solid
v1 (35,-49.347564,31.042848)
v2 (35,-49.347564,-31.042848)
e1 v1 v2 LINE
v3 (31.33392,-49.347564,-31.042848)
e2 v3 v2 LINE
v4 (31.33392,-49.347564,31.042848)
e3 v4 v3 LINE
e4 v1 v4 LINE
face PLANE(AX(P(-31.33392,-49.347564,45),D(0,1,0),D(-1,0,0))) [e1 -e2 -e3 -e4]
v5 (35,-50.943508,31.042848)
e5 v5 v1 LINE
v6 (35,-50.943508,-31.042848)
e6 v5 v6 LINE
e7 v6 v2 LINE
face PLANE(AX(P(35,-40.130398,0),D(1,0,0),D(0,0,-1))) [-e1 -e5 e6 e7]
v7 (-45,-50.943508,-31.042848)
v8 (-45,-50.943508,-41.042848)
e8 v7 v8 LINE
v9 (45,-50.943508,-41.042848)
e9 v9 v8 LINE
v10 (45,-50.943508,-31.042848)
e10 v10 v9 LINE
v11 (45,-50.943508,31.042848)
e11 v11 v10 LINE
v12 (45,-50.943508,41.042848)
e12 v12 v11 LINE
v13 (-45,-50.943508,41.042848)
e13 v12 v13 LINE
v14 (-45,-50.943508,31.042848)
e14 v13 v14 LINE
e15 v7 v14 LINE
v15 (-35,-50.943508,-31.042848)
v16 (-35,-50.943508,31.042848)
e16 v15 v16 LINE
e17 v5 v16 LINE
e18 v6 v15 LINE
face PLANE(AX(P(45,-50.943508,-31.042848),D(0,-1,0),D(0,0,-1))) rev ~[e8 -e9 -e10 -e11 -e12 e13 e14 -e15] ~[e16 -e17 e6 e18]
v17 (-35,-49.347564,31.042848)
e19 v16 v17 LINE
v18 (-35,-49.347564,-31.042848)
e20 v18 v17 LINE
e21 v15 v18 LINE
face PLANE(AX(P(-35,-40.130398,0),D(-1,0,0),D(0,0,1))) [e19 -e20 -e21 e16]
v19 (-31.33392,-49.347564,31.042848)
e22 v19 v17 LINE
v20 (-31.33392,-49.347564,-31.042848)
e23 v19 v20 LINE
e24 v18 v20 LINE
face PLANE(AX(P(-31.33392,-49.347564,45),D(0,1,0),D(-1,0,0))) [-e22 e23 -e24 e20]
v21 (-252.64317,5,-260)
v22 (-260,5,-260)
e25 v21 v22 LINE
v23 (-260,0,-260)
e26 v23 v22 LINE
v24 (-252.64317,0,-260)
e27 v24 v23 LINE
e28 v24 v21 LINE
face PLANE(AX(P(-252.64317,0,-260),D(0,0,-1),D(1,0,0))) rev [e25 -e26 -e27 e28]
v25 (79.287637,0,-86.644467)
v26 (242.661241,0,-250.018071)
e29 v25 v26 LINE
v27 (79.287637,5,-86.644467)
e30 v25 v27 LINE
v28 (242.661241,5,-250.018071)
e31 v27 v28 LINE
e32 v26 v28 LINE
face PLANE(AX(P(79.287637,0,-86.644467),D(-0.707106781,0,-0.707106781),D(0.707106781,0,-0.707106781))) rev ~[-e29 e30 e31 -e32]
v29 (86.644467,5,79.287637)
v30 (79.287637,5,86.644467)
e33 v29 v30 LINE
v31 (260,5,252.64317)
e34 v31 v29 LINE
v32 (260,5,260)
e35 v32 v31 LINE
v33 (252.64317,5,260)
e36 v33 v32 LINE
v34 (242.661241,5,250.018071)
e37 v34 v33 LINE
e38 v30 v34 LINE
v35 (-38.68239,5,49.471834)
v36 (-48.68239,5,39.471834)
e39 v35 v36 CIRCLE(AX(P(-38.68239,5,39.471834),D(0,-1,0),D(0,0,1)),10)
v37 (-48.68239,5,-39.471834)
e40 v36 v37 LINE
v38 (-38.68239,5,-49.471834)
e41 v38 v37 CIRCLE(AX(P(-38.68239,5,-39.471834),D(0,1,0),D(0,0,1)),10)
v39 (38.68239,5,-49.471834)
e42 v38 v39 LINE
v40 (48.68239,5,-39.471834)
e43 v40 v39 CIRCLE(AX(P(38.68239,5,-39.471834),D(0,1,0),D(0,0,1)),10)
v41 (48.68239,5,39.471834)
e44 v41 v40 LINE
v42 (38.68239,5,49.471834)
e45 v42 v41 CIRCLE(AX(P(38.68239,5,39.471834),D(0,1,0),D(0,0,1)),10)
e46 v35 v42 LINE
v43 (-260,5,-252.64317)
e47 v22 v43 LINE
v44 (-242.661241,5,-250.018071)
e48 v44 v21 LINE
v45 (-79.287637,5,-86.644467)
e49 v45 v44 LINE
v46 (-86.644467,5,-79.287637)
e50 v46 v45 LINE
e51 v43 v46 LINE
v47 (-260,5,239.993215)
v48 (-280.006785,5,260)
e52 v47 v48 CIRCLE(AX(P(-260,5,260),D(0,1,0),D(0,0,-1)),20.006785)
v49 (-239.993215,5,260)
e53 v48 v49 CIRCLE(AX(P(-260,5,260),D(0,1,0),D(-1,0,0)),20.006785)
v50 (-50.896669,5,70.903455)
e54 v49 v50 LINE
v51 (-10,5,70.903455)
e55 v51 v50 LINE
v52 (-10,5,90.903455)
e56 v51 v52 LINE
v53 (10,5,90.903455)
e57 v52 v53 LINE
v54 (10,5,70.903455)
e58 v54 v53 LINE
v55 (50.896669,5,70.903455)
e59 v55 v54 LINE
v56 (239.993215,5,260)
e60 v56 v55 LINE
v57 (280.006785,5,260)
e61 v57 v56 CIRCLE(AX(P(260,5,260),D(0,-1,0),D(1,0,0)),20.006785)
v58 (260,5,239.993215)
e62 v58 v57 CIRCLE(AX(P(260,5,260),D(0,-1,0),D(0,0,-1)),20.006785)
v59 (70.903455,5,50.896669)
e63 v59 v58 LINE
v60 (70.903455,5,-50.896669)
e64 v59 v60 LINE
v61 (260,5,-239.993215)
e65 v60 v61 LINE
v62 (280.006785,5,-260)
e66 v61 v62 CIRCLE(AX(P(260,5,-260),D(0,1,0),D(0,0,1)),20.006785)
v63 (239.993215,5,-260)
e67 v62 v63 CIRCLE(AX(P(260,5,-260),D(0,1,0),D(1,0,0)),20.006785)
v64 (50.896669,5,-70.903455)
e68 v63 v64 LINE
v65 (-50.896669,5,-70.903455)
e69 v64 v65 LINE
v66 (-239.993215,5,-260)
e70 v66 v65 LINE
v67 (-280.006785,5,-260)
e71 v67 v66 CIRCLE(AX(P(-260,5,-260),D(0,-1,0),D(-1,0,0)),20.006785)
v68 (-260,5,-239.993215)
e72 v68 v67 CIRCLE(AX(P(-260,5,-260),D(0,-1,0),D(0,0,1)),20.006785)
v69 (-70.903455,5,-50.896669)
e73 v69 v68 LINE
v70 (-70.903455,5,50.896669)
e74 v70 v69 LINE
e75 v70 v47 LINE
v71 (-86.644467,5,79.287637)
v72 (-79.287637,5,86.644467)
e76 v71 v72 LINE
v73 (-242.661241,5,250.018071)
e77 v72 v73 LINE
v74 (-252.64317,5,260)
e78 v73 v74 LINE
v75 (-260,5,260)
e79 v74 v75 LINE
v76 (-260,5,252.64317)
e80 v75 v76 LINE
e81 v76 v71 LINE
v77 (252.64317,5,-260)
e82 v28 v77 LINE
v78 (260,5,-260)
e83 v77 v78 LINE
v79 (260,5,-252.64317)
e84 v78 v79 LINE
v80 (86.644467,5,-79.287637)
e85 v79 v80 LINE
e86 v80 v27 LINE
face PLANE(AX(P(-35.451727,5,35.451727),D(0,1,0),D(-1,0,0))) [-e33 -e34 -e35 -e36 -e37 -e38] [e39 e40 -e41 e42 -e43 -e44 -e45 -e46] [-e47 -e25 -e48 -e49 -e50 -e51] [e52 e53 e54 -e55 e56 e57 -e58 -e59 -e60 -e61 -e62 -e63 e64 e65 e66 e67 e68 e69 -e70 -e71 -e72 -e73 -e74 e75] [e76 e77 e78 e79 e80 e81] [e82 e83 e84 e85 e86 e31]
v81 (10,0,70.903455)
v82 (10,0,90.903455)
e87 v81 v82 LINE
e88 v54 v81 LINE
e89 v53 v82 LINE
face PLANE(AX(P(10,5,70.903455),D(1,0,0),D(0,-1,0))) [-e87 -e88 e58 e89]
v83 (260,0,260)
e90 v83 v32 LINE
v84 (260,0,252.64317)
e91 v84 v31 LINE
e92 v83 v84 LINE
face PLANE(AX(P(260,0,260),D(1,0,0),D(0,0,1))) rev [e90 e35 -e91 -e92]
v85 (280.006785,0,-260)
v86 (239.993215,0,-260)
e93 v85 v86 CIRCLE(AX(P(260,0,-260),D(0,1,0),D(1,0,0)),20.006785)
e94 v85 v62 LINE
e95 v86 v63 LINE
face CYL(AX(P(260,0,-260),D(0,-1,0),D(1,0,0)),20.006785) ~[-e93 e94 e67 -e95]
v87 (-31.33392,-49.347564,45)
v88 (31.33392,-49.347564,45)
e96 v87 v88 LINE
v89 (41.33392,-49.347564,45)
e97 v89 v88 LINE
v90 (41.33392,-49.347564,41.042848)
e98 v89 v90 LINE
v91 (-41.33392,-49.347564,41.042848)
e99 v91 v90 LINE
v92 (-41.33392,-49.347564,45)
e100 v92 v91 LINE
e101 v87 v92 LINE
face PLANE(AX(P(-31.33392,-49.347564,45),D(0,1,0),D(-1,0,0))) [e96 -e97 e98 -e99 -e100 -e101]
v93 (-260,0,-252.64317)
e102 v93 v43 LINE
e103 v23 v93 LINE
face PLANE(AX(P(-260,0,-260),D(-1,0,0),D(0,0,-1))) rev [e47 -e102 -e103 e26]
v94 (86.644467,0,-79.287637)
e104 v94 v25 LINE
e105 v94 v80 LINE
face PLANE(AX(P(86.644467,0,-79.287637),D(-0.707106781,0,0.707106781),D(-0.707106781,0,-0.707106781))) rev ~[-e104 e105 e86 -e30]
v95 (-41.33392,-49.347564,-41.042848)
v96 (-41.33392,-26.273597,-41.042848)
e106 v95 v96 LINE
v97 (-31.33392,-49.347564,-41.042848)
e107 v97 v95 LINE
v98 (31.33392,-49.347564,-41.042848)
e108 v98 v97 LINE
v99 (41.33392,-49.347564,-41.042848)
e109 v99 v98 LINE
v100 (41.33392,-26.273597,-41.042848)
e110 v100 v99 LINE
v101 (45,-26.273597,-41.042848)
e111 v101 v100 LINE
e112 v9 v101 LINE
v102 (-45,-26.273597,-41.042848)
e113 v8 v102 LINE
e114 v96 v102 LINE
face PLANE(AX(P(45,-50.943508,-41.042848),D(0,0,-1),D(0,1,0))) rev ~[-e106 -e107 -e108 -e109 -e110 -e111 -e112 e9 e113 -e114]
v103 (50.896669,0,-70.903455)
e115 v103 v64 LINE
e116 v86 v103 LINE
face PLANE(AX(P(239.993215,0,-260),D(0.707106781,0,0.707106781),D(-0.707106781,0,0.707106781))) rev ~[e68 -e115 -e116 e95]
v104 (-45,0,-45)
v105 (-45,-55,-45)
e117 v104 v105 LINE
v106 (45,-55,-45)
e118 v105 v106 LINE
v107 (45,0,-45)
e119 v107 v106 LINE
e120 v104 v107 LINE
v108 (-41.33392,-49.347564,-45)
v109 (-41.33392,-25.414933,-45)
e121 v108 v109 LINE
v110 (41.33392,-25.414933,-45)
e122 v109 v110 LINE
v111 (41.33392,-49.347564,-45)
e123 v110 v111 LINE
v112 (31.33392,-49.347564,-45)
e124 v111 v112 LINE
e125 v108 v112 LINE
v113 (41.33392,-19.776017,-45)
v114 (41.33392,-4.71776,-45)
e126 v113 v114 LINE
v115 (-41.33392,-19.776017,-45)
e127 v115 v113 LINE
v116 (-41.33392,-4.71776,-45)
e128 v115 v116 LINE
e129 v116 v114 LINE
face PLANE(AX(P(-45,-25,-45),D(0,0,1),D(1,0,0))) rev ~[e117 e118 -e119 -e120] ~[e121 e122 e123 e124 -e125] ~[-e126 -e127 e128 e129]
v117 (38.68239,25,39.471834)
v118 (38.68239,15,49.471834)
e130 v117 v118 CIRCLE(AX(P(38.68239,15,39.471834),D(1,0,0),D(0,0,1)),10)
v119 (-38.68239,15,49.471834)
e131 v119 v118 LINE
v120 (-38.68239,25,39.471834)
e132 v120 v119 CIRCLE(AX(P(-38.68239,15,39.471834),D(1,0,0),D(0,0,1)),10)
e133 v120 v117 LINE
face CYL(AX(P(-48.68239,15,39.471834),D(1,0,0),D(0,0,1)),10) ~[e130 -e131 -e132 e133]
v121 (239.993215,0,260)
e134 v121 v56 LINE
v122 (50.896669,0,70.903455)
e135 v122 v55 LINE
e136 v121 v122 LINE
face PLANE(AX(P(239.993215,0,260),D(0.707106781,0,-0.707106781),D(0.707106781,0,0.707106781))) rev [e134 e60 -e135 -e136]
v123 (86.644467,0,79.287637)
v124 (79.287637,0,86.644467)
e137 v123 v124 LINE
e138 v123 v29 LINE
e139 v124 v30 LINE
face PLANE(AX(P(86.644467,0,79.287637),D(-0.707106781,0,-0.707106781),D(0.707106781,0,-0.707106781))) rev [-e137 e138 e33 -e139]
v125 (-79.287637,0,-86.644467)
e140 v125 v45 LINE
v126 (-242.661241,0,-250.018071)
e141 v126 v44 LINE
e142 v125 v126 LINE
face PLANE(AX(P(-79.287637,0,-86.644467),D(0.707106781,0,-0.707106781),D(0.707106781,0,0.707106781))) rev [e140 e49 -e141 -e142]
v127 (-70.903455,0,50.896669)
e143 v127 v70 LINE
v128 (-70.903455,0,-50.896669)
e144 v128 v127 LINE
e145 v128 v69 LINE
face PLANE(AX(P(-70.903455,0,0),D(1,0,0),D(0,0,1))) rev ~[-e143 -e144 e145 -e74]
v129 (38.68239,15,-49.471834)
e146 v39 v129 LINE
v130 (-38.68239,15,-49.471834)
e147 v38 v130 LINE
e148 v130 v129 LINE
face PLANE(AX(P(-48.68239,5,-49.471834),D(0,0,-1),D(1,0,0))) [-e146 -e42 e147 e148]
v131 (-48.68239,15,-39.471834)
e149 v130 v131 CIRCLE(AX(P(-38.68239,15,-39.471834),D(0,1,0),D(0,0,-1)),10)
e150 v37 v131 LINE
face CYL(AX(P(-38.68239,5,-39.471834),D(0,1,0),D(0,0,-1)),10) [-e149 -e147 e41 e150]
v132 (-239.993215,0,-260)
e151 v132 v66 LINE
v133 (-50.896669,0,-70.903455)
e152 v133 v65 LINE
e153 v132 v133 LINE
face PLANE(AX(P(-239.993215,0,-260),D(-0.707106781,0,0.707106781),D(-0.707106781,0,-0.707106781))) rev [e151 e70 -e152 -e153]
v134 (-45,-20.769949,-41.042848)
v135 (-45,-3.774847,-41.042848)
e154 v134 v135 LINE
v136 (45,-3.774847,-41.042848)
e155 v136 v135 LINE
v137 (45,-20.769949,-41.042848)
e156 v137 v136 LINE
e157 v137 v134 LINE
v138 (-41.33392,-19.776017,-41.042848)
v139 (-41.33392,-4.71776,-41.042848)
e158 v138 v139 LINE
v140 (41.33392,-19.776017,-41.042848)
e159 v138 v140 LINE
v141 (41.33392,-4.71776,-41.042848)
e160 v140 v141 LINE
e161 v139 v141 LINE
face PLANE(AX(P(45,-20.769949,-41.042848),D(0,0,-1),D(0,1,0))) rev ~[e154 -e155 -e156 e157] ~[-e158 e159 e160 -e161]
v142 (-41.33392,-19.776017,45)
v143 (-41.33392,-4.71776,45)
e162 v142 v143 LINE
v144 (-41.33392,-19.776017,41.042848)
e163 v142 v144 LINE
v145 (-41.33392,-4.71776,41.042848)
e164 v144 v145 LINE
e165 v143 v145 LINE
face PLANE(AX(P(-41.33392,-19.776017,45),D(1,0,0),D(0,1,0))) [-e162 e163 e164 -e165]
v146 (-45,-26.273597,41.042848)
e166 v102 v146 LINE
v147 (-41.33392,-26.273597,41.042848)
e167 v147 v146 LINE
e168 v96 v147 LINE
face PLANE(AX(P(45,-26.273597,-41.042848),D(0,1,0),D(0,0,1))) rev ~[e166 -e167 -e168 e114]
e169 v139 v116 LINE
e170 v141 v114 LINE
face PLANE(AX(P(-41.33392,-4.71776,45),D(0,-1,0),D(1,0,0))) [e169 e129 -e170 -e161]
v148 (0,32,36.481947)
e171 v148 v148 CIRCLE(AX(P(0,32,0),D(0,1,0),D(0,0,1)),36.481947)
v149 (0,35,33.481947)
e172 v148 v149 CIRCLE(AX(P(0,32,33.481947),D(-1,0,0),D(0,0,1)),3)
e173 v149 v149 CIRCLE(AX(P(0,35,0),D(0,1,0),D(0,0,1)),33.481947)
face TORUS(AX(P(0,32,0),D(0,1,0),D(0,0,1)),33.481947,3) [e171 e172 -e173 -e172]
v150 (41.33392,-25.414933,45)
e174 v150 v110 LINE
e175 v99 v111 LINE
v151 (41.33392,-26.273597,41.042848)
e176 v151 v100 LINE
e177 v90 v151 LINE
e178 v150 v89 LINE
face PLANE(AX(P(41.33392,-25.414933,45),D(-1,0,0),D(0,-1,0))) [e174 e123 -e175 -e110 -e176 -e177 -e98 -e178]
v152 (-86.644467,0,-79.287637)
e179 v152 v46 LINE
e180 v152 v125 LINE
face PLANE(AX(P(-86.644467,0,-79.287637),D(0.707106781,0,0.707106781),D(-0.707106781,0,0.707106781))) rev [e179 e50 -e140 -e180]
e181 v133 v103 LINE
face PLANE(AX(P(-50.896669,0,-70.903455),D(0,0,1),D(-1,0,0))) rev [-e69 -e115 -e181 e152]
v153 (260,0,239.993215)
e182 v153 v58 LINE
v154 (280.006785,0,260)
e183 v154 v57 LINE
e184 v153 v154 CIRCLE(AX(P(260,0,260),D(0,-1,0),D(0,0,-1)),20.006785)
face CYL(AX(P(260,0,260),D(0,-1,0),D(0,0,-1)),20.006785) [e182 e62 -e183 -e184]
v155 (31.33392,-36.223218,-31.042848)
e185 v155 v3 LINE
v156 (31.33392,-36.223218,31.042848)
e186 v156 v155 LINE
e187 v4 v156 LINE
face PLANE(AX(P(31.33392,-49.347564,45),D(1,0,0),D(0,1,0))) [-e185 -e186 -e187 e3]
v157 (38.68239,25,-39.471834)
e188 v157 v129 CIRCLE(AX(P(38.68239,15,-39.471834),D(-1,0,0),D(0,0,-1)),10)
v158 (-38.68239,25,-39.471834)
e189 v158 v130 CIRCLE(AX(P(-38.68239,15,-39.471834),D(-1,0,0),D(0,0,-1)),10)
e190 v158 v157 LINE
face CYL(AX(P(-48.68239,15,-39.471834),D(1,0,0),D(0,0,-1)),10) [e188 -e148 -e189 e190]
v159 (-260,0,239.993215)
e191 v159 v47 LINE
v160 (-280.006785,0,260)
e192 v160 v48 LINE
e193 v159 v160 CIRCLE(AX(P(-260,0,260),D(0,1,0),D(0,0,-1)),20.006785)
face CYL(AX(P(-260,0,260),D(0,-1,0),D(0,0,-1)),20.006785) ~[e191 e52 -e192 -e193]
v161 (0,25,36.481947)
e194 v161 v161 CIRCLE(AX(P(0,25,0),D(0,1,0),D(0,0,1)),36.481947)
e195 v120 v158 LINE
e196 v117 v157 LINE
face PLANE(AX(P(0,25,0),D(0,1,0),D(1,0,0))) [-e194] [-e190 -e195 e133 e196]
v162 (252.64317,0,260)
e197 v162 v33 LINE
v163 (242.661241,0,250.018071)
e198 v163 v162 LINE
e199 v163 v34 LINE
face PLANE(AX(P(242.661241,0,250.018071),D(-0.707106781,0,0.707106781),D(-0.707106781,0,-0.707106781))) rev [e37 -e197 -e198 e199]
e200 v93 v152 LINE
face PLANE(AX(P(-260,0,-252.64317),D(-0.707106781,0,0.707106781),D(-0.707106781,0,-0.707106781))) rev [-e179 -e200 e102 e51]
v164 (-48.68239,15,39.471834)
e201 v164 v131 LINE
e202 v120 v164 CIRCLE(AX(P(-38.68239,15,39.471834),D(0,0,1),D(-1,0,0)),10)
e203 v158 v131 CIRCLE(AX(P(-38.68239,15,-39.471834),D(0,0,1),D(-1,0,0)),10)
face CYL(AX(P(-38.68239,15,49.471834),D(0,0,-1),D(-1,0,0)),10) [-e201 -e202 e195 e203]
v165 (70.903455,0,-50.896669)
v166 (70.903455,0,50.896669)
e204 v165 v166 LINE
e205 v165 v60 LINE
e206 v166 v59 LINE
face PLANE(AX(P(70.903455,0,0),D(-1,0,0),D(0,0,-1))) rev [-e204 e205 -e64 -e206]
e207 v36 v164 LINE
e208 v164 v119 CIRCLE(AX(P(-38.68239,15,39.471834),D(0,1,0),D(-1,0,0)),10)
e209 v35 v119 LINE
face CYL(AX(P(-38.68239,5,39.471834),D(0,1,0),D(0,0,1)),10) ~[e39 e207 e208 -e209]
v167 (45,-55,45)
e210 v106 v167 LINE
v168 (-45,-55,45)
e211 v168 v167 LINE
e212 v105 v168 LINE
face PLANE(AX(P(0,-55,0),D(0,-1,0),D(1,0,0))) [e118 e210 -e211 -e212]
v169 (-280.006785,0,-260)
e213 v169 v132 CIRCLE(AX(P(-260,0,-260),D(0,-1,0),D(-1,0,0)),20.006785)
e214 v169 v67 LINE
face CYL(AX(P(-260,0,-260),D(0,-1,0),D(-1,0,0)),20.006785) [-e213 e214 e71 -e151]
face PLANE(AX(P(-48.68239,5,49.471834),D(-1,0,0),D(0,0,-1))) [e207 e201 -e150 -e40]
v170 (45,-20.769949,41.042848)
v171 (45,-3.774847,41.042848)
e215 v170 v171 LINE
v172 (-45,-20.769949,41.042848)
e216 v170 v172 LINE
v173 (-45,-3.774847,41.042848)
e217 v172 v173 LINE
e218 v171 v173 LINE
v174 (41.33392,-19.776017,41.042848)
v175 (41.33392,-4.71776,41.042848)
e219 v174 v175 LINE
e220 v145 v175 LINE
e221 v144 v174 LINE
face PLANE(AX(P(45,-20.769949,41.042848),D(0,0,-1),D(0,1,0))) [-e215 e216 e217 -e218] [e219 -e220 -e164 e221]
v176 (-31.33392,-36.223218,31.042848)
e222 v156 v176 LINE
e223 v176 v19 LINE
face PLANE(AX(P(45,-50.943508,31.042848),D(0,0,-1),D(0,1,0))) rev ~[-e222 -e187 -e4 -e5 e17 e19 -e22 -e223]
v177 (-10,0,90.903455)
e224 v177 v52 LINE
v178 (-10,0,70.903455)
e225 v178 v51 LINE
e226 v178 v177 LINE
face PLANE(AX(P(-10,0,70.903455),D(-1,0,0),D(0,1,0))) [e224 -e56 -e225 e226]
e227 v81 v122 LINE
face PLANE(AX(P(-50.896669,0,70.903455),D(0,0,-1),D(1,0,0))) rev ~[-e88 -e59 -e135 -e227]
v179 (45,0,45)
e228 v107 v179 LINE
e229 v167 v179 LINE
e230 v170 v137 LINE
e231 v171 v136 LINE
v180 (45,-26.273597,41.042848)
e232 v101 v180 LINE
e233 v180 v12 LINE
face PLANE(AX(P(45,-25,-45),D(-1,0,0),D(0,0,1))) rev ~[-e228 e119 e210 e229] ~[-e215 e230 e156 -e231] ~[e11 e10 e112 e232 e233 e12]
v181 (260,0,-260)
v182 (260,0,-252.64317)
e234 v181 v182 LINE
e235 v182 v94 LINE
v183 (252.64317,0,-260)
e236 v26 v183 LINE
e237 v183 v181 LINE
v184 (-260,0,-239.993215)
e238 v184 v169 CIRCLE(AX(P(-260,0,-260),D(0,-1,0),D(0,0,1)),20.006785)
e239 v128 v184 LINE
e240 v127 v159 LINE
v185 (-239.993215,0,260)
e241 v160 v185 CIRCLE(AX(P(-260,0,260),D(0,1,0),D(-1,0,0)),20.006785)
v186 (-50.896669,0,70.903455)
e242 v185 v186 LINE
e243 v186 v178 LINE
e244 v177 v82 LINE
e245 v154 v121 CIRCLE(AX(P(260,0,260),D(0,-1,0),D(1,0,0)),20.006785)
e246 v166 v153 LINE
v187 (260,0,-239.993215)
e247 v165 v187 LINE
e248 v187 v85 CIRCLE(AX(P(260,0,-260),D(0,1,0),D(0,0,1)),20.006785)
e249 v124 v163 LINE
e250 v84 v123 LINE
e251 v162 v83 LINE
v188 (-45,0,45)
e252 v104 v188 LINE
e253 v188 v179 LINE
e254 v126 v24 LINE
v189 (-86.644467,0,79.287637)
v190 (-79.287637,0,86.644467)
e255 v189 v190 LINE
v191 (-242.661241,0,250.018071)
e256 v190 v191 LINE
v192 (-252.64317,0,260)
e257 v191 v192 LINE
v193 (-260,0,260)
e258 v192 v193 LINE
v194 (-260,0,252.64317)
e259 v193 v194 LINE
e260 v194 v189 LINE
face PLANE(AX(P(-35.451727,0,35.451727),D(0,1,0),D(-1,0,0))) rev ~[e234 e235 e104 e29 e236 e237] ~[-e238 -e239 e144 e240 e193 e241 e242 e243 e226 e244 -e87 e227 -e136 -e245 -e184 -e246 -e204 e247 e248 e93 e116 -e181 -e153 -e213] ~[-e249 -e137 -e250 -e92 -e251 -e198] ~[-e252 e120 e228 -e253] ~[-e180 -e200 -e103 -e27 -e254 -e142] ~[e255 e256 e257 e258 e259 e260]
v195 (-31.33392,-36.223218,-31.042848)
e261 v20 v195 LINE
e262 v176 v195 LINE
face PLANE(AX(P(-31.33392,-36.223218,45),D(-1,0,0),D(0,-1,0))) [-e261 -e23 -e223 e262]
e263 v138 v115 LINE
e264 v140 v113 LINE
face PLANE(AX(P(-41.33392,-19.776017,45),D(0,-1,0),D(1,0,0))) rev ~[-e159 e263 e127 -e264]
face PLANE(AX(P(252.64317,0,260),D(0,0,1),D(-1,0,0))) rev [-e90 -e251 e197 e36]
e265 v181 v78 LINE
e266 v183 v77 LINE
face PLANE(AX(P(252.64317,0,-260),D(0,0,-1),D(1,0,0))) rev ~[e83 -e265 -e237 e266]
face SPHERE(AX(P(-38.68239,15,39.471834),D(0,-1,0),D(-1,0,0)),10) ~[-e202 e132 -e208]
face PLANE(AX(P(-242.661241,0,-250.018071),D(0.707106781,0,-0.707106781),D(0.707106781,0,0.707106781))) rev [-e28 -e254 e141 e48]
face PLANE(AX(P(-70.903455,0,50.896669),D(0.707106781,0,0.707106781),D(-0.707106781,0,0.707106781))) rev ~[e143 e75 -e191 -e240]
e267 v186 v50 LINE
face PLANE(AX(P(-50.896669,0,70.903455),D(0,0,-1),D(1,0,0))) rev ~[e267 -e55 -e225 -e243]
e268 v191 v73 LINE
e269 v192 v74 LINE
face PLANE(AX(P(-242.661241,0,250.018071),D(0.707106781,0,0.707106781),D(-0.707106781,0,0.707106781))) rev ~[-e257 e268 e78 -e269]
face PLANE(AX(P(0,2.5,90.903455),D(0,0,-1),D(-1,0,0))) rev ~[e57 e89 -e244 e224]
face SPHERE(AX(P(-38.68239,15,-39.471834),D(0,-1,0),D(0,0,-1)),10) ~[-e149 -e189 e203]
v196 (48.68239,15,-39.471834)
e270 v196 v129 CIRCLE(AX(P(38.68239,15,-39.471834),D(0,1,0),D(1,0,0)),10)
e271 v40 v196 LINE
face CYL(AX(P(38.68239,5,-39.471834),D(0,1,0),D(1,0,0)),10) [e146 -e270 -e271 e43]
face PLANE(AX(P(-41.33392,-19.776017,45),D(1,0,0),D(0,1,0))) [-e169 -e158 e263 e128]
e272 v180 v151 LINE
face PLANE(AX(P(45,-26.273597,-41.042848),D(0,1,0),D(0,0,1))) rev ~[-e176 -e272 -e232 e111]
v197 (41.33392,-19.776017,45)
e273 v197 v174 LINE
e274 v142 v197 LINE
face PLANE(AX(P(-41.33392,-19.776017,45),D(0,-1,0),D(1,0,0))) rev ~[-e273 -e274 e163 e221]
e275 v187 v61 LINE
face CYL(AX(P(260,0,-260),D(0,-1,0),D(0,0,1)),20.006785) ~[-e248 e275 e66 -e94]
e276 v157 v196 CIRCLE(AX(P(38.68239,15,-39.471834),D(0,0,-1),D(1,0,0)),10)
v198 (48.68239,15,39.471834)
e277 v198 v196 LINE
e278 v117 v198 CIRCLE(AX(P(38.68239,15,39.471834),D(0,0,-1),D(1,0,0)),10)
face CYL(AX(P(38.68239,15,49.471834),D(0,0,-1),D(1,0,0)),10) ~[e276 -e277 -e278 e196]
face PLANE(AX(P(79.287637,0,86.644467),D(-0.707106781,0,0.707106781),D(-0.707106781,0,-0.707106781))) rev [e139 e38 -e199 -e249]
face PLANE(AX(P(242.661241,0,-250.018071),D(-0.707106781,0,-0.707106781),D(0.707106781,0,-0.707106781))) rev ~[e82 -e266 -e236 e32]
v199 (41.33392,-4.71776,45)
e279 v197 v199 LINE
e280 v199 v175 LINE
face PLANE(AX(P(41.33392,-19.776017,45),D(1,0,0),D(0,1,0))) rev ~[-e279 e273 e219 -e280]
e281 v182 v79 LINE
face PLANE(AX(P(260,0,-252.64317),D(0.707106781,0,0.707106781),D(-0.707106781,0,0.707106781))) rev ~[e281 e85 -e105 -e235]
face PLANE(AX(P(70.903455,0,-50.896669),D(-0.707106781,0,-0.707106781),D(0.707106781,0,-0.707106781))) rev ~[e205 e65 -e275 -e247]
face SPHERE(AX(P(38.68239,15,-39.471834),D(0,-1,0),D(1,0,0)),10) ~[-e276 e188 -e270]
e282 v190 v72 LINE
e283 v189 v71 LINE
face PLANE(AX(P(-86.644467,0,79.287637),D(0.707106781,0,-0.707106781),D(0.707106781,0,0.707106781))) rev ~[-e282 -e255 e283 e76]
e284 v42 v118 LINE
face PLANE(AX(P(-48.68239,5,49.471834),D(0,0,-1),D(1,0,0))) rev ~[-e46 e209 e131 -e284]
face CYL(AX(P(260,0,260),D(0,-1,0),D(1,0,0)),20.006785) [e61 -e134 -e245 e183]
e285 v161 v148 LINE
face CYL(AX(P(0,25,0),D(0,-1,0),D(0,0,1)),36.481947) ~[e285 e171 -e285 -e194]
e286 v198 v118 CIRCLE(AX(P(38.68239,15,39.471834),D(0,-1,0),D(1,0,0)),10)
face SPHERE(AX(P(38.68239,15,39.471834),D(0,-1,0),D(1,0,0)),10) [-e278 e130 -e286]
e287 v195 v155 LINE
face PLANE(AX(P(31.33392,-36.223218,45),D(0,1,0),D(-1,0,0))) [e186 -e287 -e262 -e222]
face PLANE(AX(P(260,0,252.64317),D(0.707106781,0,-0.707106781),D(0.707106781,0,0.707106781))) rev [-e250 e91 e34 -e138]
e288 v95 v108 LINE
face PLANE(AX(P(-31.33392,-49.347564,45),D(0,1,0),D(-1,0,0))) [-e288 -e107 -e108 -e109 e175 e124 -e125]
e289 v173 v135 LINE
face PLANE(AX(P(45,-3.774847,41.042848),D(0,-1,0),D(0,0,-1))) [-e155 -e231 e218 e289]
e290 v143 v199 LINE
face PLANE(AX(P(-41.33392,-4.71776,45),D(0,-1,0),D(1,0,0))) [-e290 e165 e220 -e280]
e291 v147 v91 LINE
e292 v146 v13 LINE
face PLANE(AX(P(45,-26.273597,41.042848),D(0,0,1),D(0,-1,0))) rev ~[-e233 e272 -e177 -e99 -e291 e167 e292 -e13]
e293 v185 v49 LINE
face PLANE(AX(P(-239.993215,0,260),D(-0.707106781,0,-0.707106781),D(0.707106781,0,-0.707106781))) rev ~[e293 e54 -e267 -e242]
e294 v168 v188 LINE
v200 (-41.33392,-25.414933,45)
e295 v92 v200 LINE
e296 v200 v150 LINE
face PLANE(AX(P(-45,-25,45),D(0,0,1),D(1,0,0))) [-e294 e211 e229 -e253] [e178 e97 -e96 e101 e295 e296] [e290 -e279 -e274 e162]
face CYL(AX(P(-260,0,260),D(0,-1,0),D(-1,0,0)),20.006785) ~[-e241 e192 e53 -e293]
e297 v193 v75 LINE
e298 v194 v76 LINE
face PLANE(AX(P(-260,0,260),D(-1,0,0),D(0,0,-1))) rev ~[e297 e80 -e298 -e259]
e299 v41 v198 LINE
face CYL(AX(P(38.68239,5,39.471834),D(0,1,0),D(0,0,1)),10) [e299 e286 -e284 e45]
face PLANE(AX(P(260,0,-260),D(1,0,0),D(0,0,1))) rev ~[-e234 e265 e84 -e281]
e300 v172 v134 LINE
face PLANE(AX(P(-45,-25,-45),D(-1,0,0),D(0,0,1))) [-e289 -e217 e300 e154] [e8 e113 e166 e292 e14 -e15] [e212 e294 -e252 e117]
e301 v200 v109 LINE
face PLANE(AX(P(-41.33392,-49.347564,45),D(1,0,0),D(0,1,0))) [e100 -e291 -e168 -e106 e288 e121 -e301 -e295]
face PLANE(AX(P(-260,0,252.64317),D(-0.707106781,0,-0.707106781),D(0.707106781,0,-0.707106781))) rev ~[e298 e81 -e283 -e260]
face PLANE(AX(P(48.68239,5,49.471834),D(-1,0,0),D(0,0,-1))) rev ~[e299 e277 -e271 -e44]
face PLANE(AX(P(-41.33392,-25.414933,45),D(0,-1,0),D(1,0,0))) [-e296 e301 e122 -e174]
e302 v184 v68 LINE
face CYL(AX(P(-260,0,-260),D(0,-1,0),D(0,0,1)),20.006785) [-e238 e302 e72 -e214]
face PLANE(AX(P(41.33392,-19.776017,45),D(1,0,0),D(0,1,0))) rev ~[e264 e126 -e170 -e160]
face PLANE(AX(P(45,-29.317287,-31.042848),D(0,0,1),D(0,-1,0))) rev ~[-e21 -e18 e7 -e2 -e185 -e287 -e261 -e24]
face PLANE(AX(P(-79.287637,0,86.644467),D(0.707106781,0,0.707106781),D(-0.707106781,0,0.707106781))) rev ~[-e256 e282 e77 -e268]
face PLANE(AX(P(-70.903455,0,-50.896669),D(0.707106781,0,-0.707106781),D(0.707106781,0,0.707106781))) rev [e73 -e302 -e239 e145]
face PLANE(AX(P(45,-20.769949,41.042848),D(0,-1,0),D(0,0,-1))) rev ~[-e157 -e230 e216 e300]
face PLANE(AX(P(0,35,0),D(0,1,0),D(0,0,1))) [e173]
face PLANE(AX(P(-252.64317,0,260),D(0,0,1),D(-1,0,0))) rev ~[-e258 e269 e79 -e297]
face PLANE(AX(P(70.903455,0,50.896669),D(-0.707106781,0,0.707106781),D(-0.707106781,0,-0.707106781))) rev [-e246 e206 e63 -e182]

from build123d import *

# Parameters (mm, degrees)
EXTRUDE_1_DEPTH     = 5
SKETCH_2_W          = 90
SKETCH_2_H          = 90
EXTRUDE_2_DEPTH     = 25
SKETCH_3_W          = 82.667839838
SKETCH_3_H          = 15.058257345
CUT_EXTRUDE_1_DEPTH = 90
SKETCH_4_W          = 82.085695662
SKETCH_4_H          = 16.995101666
CUT_EXTRUDE_2_DEPTH = 90
SKETCH_5_W          = 97.364780094
SKETCH_5_H          = 98.94366842
EXTRUDE_3_DEPTH     = 20
FILLET_1_R          = 10
SKETCH_6_W          = 90
SKETCH_6_H          = 90
EXTRUDE_4_DEPTH     = 30
CUT_EXTRUDE_3_DEPTH = 90
SKETCH_8_W          = 62.667839838
SKETCH_8_H          = 13.124346315
CUT_EXTRUDE_4_DEPTH = 10
CUT_EXTRUDE_5_DEPTH = 90
SKETCH_10_W         = 62.085695662
SKETCH_10_H         = 21.626220655
CUT_EXTRUDE_6_DEPTH = 10
SKETCH_11_W         = 62.667839838
SKETCH_11_H         = 13.124346315
CUT_EXTRUDE_7_DEPTH = 10
SKETCH_12_W         = 62.085695662
SKETCH_12_H         = 21.626220655
CUT_EXTRUDE_8_DEPTH = 10
EXTRUDE_5_DEPTH     = 20
SKETCH_14_R         = 36.481947273
EXTRUDE_6_DEPTH     = 10
FILLET_2_R          = 3


with BuildPart() as part:
    # 草图1 → 凸台-拉伸1 (new body)
    with BuildSketch(Plane(origin=(0, 0, 0), x_dir=(1, 0, 0), z_dir=(0, 1, 0))):
        Polygon((0, 70.903454713), (0, 0), (70.90345471, 0), (70.90345471, 50.896669322), (70.90345471, 63.546624398), (70.90345471, 70.903454713), (63.546624395, 70.903454713), (50.896669319, 70.903454713), align=None)
        Polygon((72.962659229, 92.969444623), (50.896669319, 70.903454713), (63.546624395, 70.903454713), (79.287636767, 86.644467085), align=None)
        Polygon((70.90345471, 70.903454713), (70.90345471, 63.546624398), (86.644467082, 79.28763677), (79.287636767, 86.644467085), (63.546624395, 70.903454713), align=None)
        Polygon((70.90345471, 63.546624398), (70.90345471, 50.896669322), (92.96944462, 72.962659232), (86.644467082, 79.28763677), align=None)
        with BuildLine():
            ThreePointArc((242.661241038, 250.018071355), (240.67172678, 254.833829646), (239.993214606, 260))
            Line((239.993214606, 260), (72.962659229, 92.969444623))
            Line((72.962659229, 92.969444623), (79.287636767, 86.644467085))
            Line((79.287636767, 86.644467085), (242.661241038, 250.018071355))
        make_face()
        with BuildLine():
            Line((92.96944462, 72.962659232), (260, 239.993214612))
            ThreePointArc((260, 239.993214606), (254.833829644, 240.67172678), (250.018071352, 242.66124104))
            Line((250.018071352, 242.66124104), (86.644467082, 79.28763677))
            Line((86.644467082, 79.28763677), (92.96944462, 72.962659232))
        make_face()
        with BuildLine():
            Line((260, 252.643169688), (260, 239.993214612))
            ThreePointArc((260, 239.993214606), (274.146933622, 245.853066378), (280.006785394, 260))
            ThreePointArc((280.006785394, 260), (260, 280.006785394), (239.993214606, 260))
            Line((239.993214606, 260), (252.643169682, 260))
            Line((252.643169682, 260), (260, 260))
            Line((260, 260), (260, 252.643169688))
        make_face()
        with BuildLine():
            Line((252.643169682, 260), (239.993214606, 260))
            ThreePointArc((239.993214606, 260), (240.67172678, 254.833829646), (242.661241038, 250.018071355))
            Line((242.661241038, 250.018071355), (252.643169682, 260))
        make_face()
        with BuildLine():
            ThreePointArc((250.018071352, 242.66124104), (254.833829644, 240.67172678), (260, 239.993214606))
            Line((260, 239.993214612), (260, 252.643169688))
            Line((260, 252.643169688), (250.018071352, 242.66124104))
        make_face()
    extrude_1 = extrude(amount=EXTRUDE_1_DEPTH)

    # 镜向1: 凸台-拉伸1 across plane
    add(extrude_1.mirror(Plane(origin=(0, 5, 0), x_dir=(0, 0, 1), z_dir=(1, 0, 0))))

    # 镜向3: part across plane


with BuildPart() as part_1:
    add(part.part)
    add(part.part.mirror(Plane(origin=(0, 5, 0), x_dir=(1, 0, 0), z_dir=(0, 0, -1))))

    # 草图2 → 凸台-拉伸2 (add)
    with BuildSketch(Plane.XZ):
        Rectangle(SKETCH_2_W, SKETCH_2_H)
    extrude(amount=EXTRUDE_2_DEPTH)

    # 草图3 → 切除-拉伸1 (cut)
    with BuildSketch(Plane.XY.offset(45)):
        with Locations((0, -12.246888496)):
            Rectangle(SKETCH_3_W, SKETCH_3_H)
    extrude(amount=-CUT_EXTRUDE_1_DEPTH, mode=Mode.SUBTRACT)

    # 草图4 → 切除-拉伸2 (cut)
    with BuildSketch(Plane(origin=(45, 0, 0), x_dir=(0, 0, -1), z_dir=(1, 0, 0))):
        with Locations((0, -12.272398252)):
            Rectangle(SKETCH_4_W, SKETCH_4_H)
    extrude(amount=-CUT_EXTRUDE_2_DEPTH, mode=Mode.SUBTRACT)

    # 草图5 → 凸台-拉伸3 (add)
    with BuildSketch(Plane(origin=(0, 5, 0), x_dir=(1, 0, 0), z_dir=(0, 1, 0))):
        Rectangle(SKETCH_5_W, SKETCH_5_H)
    extrude(amount=EXTRUDE_3_DEPTH)

    # 圆角1
    fillet_1_edges = [part_1.edges().sort_by_distance(p)[0] for p in [
        (48.682390047, 15, 49.47183421),
        (48.682390047, 15, -49.47183421),
        (-48.682390047, 15, -49.47183421),
        (-48.682390047, 15, 49.47183421),
        (48.682390047, 25, 0),
        (0, 25, -49.47183421),
        (-48.682390047, 25, 0),
        (0, 25, 49.47183421),
    ]]
    fillet(fillet_1_edges, radius=FILLET_1_R)

    # 草图6 → 凸台-拉伸4 (add)
    with BuildSketch(Plane.XZ.offset(25)):
        Rectangle(SKETCH_6_W, SKETCH_6_H)
    extrude(amount=EXTRUDE_4_DEPTH)

    # 草图7 → 切除-拉伸3 (cut)
    with BuildSketch(Plane.XY.offset(45)):
        Polygon((-41.333919919, -25.414932676), (41.333919919, -25.414932676), (41.333919919, -49.347564191), (31.333919919, -49.347564191), (31.333919919, -36.223217876), (-31.333919919, -36.223217876), (-31.333919919, -49.347564191), (-41.333919919, -49.347564191), align=None)
    extrude(amount=-CUT_EXTRUDE_3_DEPTH, mode=Mode.SUBTRACT)

    # 草图8 → 切除-拉伸4 (cut)
    with BuildSketch(Plane.XY.offset(45)):
        with Locations((0, -42.785391034)):
            Rectangle(SKETCH_8_W, SKETCH_8_H)
    extrude(amount=-CUT_EXTRUDE_4_DEPTH, mode=Mode.SUBTRACT)

    # 草图9 → 切除-拉伸5 (cut)
    with BuildSketch(Plane(origin=(45, 0, 0), x_dir=(0, 0, -1), z_dir=(1, 0, 0))):
        Polygon((-41.042847831, -26.273596919), (-41.042847831, -50.943507888), (-31.042847831, -50.943507888), (-31.042847831, -29.317287233), (31.042847831, -29.317287233), (31.042847831, -50.943507888), (41.042847831, -50.943507888), (41.042847831, -26.273596919), align=None)
    extrude(amount=-CUT_EXTRUDE_5_DEPTH, mode=Mode.SUBTRACT)

    # 草图10 → 切除-拉伸6 (cut)
    with BuildSketch(Plane(origin=(45, 0, 0), x_dir=(0, 0, -1), z_dir=(1, 0, 0))):
        with Locations((0, -40.130397561)):
            Rectangle(SKETCH_10_W, SKETCH_10_H)
    extrude(amount=-CUT_EXTRUDE_6_DEPTH, mode=Mode.SUBTRACT)

    # 草图11 → 切除-拉伸7 (cut)
    with BuildSketch(Plane(origin=(0, 0, -45), x_dir=(-1, 0, 0), z_dir=(0, 0, -1))):
        with Locations((0, -42.785391034)):
            Rectangle(SKETCH_11_W, SKETCH_11_H)
    extrude(amount=-CUT_EXTRUDE_7_DEPTH, mode=Mode.SUBTRACT)

    # 草图12 → 切除-拉伸8 (cut)
    with BuildSketch(Plane.ZY.offset(45)):
        with Locations((0, -40.130397561)):
            Rectangle(SKETCH_12_W, SKETCH_12_H)
    extrude(amount=-CUT_EXTRUDE_8_DEPTH, mode=Mode.SUBTRACT)

    # 草图13 → 凸台-拉伸5 (add)
    with BuildSketch(Plane.XY.offset(70.903454713)):
        Polygon((0, 0), (-10, 0), (-10, 5), (10, 5), (10, 0), align=None)
    extrude(amount=EXTRUDE_5_DEPTH)

    # 草图14 → 凸台-拉伸6 (add)
    with BuildSketch(Plane(origin=(0, 25, 0), x_dir=(1, 0, 0), z_dir=(0, 1, 0))):
        with Locations(Location((0, 0, 0), (0, 0, 270))):
            Circle(SKETCH_14_R)
    extrude(amount=EXTRUDE_6_DEPTH)

    # 圆角2
    fillet_2_edges = [part_1.edges().sort_by_distance(p)[0] for p in [
        (0, 35, -36.481947273),
    ]]
    fillet(fillet_2_edges, radius=FILLET_2_R)


solid = part_1.part
